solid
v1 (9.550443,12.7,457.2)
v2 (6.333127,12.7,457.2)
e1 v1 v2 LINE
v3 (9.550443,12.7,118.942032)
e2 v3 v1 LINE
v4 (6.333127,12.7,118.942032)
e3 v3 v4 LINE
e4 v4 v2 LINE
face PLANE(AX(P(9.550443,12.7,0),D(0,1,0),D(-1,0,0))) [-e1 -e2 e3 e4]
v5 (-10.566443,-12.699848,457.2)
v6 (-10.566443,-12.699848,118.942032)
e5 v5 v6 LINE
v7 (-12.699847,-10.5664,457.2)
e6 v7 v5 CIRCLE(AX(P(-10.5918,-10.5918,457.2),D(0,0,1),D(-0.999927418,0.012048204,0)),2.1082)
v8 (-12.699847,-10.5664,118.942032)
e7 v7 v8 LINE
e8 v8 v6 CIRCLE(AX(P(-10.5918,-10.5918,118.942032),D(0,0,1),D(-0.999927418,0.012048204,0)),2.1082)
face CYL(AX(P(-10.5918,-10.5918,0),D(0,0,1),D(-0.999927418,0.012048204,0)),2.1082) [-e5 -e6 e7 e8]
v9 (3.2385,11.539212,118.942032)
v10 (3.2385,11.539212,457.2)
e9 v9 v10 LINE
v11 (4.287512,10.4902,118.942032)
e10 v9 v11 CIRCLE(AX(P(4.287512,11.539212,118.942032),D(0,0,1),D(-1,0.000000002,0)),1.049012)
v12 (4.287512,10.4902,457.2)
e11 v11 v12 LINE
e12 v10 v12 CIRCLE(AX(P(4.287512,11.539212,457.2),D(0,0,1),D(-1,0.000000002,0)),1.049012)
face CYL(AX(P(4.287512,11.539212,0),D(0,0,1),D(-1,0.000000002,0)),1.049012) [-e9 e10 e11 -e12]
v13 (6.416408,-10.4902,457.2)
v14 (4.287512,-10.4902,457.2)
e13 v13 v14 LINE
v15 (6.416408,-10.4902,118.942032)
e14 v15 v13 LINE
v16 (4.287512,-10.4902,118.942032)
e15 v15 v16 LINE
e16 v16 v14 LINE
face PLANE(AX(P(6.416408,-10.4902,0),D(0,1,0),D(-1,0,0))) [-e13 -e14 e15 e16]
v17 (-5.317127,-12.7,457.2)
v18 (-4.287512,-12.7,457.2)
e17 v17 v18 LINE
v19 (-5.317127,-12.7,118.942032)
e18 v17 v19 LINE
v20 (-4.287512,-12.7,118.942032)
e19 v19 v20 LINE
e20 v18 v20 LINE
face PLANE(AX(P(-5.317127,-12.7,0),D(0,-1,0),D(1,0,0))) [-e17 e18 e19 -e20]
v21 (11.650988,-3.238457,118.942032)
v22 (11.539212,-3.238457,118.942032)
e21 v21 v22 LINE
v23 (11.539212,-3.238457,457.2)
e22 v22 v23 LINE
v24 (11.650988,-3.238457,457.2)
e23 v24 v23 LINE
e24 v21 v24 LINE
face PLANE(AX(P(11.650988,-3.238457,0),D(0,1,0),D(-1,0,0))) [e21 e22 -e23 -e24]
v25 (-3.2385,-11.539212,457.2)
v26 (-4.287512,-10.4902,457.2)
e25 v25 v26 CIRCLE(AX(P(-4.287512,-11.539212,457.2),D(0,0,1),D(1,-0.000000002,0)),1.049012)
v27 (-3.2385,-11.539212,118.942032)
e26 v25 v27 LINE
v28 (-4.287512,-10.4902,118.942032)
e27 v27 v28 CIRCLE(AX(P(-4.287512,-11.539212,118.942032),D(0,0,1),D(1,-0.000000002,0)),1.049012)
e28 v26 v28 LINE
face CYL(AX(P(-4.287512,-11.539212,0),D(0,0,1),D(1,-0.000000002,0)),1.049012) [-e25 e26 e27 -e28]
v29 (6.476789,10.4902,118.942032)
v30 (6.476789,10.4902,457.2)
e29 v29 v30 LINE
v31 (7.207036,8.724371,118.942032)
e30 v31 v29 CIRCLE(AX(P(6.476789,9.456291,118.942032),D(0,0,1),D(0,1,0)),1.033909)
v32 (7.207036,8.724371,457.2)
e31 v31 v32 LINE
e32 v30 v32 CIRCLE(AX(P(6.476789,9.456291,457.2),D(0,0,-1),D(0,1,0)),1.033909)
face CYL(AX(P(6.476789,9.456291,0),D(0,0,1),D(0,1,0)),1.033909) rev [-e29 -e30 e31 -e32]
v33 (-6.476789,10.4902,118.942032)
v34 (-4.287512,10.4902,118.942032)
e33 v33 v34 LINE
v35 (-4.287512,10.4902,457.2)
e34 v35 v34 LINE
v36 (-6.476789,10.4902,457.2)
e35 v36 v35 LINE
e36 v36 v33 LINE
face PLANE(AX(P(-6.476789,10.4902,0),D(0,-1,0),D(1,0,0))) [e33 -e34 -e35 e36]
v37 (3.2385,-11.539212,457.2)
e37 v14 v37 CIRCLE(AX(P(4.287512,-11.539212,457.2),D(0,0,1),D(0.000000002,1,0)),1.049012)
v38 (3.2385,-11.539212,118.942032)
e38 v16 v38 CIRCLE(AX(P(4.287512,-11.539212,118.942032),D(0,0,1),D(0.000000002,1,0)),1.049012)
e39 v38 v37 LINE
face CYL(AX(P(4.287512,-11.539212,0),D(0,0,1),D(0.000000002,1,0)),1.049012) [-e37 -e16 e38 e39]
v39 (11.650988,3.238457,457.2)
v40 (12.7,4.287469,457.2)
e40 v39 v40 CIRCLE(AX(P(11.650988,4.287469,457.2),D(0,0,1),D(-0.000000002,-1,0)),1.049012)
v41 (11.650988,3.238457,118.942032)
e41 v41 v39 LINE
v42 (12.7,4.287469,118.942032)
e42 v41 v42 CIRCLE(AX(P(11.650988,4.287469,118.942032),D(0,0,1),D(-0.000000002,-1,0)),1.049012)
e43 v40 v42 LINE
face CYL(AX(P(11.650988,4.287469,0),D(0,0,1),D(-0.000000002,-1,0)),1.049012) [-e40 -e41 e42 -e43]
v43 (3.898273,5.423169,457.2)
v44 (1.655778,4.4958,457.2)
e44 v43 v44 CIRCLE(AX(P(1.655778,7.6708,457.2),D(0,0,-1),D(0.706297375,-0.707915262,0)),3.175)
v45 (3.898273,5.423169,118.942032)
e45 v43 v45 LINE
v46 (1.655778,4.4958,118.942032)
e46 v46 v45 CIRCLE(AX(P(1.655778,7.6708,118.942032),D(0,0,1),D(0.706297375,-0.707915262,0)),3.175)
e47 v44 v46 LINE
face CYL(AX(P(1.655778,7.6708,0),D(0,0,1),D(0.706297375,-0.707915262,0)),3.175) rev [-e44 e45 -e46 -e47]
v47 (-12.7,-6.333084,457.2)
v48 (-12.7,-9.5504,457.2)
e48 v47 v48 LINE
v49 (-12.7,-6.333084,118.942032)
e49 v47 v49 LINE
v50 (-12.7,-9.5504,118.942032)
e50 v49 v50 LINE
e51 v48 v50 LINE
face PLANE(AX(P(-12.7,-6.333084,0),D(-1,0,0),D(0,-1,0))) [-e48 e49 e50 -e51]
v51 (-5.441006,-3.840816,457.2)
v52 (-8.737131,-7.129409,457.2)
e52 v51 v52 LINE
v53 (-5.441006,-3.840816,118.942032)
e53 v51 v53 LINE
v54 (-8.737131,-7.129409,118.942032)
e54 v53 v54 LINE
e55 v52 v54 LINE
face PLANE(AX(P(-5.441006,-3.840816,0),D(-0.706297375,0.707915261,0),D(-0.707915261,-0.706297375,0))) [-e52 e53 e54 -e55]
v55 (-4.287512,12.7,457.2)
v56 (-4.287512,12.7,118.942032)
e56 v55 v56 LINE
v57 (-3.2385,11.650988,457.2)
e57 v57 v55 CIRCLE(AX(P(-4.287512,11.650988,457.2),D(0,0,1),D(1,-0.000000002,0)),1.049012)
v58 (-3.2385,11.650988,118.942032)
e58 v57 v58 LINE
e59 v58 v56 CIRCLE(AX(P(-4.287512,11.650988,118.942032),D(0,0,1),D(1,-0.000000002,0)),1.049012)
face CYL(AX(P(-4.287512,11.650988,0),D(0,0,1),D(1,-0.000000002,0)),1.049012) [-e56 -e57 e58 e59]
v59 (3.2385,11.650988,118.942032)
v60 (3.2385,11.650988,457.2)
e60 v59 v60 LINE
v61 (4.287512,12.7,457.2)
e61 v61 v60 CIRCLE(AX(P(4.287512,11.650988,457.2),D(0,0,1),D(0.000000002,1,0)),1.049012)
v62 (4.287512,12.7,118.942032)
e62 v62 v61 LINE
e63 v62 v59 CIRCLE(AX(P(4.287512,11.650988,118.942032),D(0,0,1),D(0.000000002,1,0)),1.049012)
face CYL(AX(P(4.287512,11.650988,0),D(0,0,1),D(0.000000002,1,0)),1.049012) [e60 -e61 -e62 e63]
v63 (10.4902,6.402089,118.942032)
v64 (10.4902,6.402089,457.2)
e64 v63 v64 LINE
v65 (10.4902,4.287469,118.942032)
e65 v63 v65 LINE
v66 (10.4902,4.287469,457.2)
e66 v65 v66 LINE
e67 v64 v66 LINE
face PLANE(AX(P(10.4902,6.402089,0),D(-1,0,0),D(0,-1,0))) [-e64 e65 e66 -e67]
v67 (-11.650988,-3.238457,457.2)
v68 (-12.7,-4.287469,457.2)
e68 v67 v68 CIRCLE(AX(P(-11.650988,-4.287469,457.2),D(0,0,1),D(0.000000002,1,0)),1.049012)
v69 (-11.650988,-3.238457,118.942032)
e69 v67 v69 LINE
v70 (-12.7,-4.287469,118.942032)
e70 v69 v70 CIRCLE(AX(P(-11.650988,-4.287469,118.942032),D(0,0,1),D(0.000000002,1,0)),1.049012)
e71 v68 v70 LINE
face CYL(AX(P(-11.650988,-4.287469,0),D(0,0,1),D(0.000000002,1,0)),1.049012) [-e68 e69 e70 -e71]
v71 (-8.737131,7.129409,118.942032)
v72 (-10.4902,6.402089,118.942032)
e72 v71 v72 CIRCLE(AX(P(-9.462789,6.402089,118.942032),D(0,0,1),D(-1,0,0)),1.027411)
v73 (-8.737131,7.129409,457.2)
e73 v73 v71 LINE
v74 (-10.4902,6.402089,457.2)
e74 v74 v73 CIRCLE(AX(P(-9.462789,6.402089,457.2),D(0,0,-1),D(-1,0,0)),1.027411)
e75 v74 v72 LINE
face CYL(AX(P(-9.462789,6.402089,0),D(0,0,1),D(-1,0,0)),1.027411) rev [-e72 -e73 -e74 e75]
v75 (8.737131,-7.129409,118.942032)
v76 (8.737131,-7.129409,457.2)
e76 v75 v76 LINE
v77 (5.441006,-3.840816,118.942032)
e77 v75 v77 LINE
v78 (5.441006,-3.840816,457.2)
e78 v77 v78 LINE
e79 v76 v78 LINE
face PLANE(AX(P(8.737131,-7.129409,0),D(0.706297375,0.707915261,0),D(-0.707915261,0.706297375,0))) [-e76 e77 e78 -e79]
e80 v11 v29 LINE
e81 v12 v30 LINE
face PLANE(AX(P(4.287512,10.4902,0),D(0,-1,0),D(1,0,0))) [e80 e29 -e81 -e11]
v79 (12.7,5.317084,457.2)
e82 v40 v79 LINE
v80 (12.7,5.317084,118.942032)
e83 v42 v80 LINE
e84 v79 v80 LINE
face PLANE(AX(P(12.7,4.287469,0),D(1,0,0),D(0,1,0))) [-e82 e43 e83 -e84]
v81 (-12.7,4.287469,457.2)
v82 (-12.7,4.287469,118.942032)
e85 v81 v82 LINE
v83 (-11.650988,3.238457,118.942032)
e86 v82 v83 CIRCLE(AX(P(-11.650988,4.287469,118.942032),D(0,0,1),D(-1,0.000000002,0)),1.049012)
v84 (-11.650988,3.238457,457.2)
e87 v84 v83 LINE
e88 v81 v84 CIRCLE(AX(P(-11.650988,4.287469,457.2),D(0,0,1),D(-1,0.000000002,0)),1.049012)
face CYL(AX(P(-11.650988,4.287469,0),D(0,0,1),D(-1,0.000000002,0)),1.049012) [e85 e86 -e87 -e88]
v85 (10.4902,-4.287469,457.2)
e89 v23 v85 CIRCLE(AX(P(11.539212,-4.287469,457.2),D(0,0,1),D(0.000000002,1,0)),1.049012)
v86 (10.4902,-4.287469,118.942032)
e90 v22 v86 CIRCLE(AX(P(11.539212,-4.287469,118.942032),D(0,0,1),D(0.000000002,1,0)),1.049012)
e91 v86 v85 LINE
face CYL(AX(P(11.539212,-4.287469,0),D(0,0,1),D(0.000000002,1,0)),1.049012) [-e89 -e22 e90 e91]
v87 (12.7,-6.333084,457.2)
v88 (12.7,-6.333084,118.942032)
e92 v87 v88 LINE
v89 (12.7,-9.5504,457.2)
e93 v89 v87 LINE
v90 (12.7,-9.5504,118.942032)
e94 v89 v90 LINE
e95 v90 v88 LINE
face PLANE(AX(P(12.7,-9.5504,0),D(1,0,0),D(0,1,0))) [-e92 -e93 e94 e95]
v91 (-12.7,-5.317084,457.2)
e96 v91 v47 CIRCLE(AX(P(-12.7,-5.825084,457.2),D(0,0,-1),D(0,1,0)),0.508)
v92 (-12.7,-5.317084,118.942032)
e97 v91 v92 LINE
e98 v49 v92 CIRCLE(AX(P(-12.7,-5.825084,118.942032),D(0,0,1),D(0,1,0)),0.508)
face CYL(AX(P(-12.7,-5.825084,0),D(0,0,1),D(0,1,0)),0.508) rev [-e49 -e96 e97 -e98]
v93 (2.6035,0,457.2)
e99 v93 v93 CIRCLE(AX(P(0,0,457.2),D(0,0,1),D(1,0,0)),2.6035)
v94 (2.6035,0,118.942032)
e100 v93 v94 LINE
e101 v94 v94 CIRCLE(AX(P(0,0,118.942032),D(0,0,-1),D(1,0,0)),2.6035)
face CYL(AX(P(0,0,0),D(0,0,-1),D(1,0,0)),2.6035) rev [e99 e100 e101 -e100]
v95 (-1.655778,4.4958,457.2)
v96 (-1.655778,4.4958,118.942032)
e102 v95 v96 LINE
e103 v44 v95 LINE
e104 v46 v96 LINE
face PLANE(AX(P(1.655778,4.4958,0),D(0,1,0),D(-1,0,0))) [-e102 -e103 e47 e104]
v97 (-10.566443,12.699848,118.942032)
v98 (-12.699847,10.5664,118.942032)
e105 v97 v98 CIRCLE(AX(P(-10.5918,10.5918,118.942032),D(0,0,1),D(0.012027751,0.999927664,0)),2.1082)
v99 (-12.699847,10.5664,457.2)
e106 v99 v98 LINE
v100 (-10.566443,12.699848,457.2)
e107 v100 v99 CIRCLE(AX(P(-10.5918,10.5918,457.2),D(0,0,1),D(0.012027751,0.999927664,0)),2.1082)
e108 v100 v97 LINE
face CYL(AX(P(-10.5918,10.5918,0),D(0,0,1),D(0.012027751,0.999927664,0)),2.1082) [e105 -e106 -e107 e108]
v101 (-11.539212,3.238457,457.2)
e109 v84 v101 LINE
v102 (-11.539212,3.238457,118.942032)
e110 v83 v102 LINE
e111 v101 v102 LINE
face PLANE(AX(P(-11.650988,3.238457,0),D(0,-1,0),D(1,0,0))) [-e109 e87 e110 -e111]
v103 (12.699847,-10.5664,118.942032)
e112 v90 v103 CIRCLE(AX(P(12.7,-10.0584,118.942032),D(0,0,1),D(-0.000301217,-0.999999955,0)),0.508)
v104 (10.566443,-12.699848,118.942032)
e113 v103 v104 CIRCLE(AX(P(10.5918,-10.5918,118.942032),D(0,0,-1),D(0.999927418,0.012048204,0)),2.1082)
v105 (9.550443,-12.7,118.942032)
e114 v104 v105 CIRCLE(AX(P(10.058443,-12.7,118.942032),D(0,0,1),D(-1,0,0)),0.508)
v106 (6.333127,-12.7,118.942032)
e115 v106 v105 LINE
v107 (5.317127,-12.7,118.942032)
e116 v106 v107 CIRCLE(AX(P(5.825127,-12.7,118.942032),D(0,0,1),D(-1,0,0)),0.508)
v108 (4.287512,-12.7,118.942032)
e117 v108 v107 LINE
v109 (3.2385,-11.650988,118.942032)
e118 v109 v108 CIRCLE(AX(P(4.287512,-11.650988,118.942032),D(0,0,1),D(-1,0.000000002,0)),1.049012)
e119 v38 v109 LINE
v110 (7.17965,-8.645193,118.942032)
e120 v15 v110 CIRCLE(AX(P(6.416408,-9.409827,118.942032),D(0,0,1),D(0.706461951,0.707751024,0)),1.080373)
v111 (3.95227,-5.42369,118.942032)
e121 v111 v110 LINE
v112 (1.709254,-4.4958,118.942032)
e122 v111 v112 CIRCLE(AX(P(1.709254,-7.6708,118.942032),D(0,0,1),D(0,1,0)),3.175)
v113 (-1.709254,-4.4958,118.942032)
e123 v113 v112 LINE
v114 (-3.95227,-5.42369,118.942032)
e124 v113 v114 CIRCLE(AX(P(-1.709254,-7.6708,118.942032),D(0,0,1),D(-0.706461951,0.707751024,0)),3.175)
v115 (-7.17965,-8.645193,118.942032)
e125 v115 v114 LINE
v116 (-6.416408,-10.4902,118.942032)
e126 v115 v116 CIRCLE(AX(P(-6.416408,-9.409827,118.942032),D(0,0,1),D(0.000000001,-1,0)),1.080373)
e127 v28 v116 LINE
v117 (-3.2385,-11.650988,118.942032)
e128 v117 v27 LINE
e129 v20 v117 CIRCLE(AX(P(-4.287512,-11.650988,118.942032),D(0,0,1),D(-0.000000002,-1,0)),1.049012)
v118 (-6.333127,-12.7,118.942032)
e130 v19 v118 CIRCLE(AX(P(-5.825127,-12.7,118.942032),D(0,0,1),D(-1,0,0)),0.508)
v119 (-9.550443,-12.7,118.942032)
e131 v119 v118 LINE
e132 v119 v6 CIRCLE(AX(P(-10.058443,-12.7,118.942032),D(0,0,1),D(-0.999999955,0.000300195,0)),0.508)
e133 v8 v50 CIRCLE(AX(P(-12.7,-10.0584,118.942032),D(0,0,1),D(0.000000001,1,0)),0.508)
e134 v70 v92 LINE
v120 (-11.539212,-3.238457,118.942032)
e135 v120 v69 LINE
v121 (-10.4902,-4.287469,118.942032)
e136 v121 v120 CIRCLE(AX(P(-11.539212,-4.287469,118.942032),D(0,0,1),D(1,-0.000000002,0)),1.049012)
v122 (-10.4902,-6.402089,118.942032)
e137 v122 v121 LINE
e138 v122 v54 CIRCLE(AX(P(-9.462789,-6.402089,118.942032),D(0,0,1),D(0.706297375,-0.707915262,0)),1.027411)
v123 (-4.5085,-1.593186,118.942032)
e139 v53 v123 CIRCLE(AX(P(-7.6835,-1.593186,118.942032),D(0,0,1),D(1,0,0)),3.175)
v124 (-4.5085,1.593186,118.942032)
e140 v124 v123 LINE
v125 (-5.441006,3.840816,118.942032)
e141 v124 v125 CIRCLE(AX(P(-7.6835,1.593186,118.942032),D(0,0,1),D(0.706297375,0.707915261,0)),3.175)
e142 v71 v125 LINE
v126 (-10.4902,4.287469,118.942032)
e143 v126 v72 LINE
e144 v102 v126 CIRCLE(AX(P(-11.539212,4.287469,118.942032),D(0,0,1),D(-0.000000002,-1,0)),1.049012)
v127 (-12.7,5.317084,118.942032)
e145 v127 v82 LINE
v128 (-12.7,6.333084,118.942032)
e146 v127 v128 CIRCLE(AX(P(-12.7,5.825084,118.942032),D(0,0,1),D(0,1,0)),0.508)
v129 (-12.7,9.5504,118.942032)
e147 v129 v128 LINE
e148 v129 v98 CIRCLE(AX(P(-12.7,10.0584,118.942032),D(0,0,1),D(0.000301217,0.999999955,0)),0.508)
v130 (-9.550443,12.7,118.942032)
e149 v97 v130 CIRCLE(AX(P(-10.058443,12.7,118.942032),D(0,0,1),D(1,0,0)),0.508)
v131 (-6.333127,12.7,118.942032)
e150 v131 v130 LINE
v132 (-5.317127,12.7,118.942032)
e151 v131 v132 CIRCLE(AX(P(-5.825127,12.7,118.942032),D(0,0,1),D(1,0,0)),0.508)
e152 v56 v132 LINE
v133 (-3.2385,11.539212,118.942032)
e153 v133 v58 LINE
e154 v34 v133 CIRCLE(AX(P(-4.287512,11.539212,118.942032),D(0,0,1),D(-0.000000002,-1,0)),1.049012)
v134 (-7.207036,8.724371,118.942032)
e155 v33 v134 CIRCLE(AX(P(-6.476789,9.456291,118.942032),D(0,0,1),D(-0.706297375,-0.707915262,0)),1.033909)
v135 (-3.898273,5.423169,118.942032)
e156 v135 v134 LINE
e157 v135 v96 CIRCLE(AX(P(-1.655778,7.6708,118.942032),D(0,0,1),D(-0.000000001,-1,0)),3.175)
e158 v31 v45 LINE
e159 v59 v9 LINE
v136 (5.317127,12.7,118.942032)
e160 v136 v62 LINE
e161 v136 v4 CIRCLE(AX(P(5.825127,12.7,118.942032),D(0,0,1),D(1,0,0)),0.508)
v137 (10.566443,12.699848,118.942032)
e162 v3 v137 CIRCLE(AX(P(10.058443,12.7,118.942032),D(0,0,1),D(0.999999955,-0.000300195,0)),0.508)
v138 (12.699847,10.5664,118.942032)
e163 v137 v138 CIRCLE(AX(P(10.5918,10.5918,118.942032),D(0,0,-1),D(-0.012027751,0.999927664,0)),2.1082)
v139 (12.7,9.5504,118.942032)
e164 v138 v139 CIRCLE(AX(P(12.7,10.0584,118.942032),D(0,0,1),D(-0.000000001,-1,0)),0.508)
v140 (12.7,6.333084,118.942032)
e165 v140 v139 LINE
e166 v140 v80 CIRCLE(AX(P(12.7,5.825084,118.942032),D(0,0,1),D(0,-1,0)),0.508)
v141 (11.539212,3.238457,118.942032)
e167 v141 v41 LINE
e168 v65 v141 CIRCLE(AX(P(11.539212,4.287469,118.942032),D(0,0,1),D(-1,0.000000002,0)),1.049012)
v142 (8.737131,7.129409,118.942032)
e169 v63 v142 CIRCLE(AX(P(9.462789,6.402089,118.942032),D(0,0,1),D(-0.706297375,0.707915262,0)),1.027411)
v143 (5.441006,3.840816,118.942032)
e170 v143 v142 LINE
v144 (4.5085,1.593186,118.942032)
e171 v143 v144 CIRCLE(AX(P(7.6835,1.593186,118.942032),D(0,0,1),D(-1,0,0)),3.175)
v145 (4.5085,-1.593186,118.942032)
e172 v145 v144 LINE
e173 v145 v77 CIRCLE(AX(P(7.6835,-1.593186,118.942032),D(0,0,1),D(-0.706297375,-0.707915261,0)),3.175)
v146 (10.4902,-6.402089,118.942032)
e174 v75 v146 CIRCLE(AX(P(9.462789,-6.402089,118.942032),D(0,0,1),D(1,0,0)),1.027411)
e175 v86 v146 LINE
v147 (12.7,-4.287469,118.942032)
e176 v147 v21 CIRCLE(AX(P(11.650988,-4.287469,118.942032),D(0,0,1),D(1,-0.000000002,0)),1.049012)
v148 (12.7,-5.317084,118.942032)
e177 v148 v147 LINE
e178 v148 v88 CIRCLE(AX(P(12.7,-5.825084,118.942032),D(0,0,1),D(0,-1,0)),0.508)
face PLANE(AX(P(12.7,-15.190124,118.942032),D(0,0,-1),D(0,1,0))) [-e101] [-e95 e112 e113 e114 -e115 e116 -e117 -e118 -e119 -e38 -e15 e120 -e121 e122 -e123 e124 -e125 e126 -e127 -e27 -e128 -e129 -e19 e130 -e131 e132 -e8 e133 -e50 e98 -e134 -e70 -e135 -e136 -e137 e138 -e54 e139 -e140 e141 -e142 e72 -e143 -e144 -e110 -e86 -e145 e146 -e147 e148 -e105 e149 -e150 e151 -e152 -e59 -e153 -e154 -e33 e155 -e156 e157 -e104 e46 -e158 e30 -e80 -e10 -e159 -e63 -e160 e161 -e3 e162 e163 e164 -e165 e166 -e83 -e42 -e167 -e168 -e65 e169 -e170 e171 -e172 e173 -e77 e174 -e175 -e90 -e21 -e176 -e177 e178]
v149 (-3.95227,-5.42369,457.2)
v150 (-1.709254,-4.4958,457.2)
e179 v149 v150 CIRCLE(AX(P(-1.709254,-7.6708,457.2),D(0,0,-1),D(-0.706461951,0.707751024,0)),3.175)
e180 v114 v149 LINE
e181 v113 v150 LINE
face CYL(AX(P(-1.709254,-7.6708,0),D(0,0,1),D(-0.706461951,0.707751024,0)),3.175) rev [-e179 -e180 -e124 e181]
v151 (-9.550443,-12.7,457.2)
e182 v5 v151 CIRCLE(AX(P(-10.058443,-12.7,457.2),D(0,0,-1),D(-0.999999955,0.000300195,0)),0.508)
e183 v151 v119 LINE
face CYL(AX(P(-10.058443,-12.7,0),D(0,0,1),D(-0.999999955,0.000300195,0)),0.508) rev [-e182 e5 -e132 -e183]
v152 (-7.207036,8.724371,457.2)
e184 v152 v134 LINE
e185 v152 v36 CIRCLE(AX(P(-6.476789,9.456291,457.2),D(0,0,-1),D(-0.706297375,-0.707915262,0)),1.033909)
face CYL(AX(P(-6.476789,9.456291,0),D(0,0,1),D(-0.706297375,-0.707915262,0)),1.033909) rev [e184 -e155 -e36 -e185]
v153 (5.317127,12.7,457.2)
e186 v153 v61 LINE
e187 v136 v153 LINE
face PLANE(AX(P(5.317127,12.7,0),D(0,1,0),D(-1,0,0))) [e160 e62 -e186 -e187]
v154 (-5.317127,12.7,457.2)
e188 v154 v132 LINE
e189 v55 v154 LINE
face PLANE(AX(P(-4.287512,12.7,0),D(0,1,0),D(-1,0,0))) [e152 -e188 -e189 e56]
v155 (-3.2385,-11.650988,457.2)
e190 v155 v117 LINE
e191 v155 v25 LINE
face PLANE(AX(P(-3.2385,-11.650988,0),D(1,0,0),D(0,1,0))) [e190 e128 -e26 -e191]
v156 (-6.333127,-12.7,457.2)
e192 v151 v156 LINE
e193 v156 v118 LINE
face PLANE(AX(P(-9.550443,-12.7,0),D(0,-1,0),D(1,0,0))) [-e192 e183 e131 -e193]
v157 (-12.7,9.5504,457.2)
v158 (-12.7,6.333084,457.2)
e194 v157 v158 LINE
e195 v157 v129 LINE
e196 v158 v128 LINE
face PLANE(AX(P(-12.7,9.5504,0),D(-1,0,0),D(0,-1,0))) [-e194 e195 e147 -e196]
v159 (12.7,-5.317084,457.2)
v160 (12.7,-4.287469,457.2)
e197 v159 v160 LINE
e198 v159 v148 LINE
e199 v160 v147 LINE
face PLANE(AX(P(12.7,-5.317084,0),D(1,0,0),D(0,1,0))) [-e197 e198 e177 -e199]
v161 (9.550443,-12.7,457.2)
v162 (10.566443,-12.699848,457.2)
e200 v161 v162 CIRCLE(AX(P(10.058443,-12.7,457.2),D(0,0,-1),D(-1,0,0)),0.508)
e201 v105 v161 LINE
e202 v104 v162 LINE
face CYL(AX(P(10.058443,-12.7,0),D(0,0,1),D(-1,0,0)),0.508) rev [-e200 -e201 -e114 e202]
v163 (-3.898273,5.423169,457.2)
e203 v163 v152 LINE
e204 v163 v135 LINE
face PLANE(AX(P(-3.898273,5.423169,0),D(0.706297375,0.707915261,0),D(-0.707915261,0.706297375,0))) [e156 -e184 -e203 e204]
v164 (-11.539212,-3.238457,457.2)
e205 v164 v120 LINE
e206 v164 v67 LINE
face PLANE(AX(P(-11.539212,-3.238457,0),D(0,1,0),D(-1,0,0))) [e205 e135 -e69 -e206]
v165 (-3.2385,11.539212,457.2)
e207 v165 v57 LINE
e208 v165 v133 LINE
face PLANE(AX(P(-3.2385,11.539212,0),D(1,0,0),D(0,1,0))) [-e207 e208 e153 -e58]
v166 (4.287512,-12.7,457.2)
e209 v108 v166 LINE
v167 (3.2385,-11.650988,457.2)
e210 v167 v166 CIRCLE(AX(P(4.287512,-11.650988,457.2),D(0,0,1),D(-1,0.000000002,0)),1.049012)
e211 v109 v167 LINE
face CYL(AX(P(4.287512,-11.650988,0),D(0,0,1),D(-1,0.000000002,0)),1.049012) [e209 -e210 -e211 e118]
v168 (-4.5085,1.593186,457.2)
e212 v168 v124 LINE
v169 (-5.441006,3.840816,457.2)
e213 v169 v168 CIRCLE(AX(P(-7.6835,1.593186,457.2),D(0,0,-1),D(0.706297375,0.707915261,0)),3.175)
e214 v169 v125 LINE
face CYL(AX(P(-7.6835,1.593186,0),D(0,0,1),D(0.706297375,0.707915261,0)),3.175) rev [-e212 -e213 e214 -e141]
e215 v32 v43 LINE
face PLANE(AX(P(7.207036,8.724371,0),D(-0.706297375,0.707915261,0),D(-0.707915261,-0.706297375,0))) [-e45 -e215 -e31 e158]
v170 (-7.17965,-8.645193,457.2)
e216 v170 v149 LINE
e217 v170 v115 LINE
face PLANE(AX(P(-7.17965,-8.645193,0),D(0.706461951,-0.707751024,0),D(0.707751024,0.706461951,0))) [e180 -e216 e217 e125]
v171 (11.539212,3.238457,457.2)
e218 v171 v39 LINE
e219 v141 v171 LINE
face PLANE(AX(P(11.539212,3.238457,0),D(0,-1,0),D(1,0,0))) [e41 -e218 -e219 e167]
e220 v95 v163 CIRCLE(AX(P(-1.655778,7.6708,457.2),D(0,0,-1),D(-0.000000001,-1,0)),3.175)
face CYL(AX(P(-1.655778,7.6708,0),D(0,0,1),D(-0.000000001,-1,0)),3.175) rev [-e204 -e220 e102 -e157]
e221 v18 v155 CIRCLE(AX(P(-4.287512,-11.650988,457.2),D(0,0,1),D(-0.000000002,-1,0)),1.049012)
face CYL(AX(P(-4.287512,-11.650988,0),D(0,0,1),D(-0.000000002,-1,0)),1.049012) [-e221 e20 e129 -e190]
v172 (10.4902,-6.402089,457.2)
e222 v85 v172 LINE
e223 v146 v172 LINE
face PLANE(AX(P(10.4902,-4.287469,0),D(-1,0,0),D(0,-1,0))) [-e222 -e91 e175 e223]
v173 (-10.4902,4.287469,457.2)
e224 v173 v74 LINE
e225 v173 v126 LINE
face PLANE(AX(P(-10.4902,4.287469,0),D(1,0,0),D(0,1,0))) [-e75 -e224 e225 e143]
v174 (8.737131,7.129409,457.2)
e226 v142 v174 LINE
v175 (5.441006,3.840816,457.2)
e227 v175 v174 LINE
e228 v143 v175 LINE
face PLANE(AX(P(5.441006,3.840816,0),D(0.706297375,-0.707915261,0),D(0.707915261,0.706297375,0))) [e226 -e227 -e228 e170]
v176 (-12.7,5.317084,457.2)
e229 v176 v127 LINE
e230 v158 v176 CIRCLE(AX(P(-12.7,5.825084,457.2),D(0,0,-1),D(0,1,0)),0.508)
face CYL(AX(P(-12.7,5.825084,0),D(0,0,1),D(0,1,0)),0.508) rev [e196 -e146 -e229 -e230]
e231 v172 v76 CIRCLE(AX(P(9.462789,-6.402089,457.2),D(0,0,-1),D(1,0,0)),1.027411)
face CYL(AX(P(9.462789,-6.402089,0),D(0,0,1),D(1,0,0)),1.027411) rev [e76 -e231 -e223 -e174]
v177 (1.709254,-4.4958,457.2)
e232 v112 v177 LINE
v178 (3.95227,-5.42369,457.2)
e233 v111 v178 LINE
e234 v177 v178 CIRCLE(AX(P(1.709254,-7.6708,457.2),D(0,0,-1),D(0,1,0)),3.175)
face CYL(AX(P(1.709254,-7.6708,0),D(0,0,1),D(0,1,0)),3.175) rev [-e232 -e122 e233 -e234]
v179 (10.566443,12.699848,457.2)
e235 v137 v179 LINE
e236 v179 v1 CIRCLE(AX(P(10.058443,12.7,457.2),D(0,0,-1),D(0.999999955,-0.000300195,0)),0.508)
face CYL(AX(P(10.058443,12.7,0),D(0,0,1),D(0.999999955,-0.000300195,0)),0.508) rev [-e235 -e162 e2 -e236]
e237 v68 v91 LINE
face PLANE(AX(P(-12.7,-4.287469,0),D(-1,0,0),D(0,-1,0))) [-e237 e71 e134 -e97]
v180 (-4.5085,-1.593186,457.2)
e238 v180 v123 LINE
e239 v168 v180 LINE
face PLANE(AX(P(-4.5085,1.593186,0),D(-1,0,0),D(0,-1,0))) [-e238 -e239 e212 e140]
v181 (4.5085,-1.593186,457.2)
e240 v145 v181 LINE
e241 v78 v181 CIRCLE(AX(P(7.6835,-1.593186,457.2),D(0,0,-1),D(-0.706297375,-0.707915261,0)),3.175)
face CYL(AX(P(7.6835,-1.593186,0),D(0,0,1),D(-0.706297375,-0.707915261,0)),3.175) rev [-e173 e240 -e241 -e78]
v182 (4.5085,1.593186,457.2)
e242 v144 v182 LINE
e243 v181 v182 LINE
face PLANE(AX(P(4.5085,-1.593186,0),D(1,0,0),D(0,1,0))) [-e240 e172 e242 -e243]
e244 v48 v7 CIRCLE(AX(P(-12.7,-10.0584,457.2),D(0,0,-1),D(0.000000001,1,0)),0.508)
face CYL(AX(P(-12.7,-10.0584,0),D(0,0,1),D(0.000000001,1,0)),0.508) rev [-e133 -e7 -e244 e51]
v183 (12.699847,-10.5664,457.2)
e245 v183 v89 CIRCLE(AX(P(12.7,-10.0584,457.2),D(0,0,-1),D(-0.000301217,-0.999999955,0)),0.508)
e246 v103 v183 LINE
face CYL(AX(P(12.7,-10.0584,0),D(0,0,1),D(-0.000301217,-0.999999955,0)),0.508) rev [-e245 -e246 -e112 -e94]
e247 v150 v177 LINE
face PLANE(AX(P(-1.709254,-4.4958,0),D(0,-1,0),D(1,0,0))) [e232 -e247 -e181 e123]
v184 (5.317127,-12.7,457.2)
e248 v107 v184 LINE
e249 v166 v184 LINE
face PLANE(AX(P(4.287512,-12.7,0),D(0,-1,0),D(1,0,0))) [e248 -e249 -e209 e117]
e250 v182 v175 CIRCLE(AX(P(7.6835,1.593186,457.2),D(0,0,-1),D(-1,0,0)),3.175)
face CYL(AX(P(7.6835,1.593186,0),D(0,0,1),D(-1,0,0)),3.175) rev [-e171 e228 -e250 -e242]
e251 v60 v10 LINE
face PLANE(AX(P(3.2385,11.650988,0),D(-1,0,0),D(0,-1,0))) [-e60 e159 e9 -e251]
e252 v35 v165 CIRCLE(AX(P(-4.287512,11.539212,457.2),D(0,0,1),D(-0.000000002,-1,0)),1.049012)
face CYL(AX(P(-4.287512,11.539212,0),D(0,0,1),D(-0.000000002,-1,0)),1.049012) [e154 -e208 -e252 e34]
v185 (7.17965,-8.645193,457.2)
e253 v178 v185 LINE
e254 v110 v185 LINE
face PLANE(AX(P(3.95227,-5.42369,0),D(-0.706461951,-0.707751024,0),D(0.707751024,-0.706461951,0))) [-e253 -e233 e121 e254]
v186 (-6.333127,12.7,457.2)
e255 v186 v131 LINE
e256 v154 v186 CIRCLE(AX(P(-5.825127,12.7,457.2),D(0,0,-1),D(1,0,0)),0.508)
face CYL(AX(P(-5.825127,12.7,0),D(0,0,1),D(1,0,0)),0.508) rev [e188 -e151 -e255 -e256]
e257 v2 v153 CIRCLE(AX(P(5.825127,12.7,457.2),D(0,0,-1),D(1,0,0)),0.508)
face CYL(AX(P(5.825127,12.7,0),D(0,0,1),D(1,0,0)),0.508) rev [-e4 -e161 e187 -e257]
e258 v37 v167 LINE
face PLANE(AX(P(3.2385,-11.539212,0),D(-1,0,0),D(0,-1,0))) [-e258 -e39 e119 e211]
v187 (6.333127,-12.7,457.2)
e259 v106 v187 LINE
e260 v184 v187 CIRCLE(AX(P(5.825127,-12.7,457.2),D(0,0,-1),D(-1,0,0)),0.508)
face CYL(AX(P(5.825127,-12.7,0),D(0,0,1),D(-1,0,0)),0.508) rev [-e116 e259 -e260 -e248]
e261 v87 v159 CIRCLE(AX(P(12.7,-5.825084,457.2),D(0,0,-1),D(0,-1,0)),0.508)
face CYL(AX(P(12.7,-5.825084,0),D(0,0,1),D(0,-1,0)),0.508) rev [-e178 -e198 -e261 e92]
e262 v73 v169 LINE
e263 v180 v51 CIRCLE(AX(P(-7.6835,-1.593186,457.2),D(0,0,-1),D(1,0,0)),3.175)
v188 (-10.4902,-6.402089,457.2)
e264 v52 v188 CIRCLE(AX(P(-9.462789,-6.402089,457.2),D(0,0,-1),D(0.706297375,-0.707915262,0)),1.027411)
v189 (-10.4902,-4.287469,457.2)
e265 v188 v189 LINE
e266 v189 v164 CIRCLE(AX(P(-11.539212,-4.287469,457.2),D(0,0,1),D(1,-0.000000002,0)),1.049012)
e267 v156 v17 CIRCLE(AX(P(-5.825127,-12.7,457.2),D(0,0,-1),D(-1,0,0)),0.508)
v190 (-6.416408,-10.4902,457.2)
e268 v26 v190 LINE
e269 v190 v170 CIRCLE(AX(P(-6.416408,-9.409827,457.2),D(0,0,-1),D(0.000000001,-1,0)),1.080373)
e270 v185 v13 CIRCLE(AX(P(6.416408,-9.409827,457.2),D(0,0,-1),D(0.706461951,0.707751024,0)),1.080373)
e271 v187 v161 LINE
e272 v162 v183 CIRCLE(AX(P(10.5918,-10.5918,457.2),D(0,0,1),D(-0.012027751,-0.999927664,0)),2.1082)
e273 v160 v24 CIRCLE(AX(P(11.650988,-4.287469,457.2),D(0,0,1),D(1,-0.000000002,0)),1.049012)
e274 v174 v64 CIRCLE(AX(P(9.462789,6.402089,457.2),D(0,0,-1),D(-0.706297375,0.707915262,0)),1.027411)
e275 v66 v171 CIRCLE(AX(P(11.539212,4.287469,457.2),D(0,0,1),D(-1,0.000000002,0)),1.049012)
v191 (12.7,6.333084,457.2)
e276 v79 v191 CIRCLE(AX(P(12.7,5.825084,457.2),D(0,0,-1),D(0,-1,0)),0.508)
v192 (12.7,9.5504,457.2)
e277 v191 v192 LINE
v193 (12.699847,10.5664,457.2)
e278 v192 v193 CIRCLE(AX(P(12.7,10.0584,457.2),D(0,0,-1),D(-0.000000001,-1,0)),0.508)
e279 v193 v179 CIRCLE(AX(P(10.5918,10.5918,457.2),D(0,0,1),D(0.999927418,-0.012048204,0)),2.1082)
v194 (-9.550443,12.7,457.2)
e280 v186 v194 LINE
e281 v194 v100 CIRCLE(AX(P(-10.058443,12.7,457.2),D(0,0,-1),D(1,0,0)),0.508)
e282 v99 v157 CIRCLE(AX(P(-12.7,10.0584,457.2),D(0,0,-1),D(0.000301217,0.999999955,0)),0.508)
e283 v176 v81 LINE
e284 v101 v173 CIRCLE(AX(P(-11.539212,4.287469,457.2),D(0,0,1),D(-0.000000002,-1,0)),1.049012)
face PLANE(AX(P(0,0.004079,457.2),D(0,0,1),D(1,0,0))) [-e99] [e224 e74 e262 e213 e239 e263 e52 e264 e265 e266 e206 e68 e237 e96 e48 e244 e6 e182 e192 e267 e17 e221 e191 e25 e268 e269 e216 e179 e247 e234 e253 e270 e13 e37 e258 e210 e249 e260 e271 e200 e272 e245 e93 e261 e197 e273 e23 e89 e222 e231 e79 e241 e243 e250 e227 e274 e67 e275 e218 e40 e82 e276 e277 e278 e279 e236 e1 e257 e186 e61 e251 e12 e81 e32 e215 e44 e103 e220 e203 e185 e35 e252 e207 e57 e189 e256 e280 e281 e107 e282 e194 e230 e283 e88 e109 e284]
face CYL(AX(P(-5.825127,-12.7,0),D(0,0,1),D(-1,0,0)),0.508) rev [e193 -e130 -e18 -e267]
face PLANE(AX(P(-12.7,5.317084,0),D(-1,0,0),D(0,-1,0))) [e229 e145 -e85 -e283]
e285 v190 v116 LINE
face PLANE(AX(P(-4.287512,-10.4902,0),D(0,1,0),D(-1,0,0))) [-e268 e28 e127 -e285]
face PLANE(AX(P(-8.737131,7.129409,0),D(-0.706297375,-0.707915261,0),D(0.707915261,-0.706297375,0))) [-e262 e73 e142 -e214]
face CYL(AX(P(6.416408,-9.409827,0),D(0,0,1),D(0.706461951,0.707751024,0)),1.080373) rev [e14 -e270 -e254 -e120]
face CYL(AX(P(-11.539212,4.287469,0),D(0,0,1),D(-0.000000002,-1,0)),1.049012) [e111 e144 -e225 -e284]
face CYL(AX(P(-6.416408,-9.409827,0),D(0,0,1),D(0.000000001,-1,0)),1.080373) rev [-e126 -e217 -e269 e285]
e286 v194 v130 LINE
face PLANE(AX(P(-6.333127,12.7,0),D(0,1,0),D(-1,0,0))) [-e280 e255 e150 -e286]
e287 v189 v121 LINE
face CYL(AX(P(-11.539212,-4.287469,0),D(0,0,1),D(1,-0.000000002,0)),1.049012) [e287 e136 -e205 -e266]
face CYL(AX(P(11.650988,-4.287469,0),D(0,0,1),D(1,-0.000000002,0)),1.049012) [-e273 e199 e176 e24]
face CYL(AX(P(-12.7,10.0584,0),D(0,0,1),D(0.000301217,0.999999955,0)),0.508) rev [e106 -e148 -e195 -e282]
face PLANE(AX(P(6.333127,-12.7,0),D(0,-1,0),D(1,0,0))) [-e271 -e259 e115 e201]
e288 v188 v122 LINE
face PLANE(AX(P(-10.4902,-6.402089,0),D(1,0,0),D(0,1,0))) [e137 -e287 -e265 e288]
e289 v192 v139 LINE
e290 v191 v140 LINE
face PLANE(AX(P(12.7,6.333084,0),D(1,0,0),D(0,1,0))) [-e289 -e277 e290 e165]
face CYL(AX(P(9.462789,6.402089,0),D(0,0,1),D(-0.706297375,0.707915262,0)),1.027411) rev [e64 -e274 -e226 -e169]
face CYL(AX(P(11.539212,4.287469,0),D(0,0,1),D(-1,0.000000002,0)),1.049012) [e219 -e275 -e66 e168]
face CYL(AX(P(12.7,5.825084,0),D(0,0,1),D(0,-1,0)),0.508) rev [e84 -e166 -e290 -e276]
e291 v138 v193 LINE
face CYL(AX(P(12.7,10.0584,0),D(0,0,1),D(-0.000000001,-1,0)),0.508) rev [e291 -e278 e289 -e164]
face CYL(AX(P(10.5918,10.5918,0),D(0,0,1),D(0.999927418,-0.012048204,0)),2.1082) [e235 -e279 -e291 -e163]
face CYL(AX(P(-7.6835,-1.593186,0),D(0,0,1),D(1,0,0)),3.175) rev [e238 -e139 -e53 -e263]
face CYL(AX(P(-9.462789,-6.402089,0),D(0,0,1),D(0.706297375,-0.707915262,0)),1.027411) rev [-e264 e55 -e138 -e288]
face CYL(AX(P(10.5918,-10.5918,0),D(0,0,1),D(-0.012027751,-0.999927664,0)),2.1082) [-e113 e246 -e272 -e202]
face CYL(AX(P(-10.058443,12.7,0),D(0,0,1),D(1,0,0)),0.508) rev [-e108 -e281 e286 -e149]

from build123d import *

# Parameters (mm, degrees)
SKETCH1_R               = 2.6035
BOSS_EXTRUDE1_DEPTH     = 457.2
CUT_EXTRUDE2_DEPTH      = 4.318
CUT_EXTRUDE2_DEPTH_BACK = 26.924
SKETCH4_W               = 324.910304918
SKETCH4_H               = 30.197320423
CUT_EXTRUDE3_DEPTH      = 1
CUT_EXTRUDE3_DEPTH_BACK = 26.4


with BuildPart() as part:
    # Sketch1 → Boss-Extrude1 (new body, symmetric)
    with BuildSketch(Plane.XY):
        with BuildLine():
            Line((-7.179650497, -8.645192506), (-3.952270251, -5.423690499))
            ThreePointArc((-3.952270251, -5.423690499), (-2.922936451, -4.736929036), (-1.709253557, -4.4958))
            Line((-1.709253557, -4.4958), (1.709253557, -4.4958))
            ThreePointArc((1.709253557, -4.4958), (2.922936451, -4.736929036), (3.952270251, -5.423690499))
            Line((3.952270251, -5.423690499), (7.179650497, -8.645192506))
            ThreePointArc((7.179650497, -8.645192506), (7.41473083, -9.822813117), (6.416408329, -10.4902))
            Line((6.416408329, -10.4902), (4.287512407, -10.4902))
            ThreePointArc((4.287512407, -10.4902), (3.54574862, -10.79744862), (3.2385, -11.539212407))
            Line((3.2385, -11.539212407), (3.2385, -11.650987593))
            ThreePointArc((3.2385, -11.650987593), (3.54574862, -12.39275138), (4.287512407, -12.7))
            Line((4.287512407, -12.7), (5.317126718, -12.7))
            ThreePointArc((5.317126718, -12.7), (5.825126718, -12.192), (6.333126718, -12.7))
            Line((6.333126718, -12.7), (9.550443118, -12.7))
            ThreePointArc((9.550443118, -12.7), (10.058366869, -12.192000006), (10.566443095, -12.699847501))
            ThreePointArc((10.566443095, -12.699847501), (12.082537762, -12.08250727), (12.699846982, -10.566399977))
            ThreePointArc((12.699846982, -10.566399977), (12.192000006, -10.058323491), (12.7, -9.5504))
            Line((12.7, -9.5504), (12.7, -6.3330836))
            ThreePointArc((12.7, -6.3330836), (12.192, -5.8250836), (12.7, -5.3170836))
            Line((12.7, -5.3170836), (12.7, -4.287469289))
            ThreePointArc((12.7, -4.287469289), (12.39275138, -3.545705502), (11.650987593, -3.238456882))
            Line((11.650987593, -3.238456882), (11.539212407, -3.238456882))
            ThreePointArc((11.539212407, -3.238456882), (10.79744862, -3.545705502), (10.4902, -4.287469289))
            Line((10.4902, -4.287469289), (10.4902, -6.402089023))
            ThreePointArc((10.4902, -6.402089023), (9.856505071, -7.351067942), (8.737131347, -7.129408934))
            Line((8.737131347, -7.129408934), (5.441005833, -3.840816462))
            ThreePointArc((5.441005833, -3.840816462), (4.750877967, -2.809883091), (4.5085, -1.593185507))
            Line((4.5085, -1.593185507), (4.5085, 1.593185507))
            ThreePointArc((4.5085, 1.593185507), (4.750877967, 2.809883091), (5.441005833, 3.840816462))
            Line((5.441005833, 3.840816462), (8.737131347, 7.129408934))
            ThreePointArc((8.737131347, 7.129408934), (9.856505071, 7.351067942), (10.4902, 6.402089023))
            Line((10.4902, 6.402089023), (10.4902, 4.287469289))
            ThreePointArc((10.4902, 4.287469289), (10.79744862, 3.545705502), (11.539212407, 3.238456882))
            Line((11.539212407, 3.238456882), (11.650987593, 3.238456882))
            ThreePointArc((11.650987593, 3.238456882), (12.39275138, 3.545705502), (12.7, 4.287469289))
            Line((12.7, 4.287469289), (12.7, 5.3170836))
            ThreePointArc((12.7, 5.3170836), (12.192, 5.8250836), (12.7, 6.3330836))
            Line((12.7, 6.3330836), (12.7, 9.5504))
            ThreePointArc((12.7, 9.5504), (12.192000006, 10.058323491), (12.699846982, 10.566399977))
            ThreePointArc((12.699846982, 10.566399977), (12.082537762, 12.08250727), (10.566443095, 12.699847501))
            ThreePointArc((10.566443095, 12.699847501), (10.058366869, 12.192000006), (9.550443118, 12.7))
            Line((9.550443118, 12.7), (6.333126718, 12.7))
            ThreePointArc((6.333126718, 12.7), (5.825126718, 12.192), (5.317126718, 12.7))
            Line((5.317126718, 12.7), (4.287512407, 12.7))
            ThreePointArc((4.287512407, 12.7), (3.54574862, 12.39275138), (3.2385, 11.650987593))
            Line((3.2385, 11.650987593), (3.2385, 11.539212407))
            ThreePointArc((3.2385, 11.539212407), (3.54574862, 10.79744862), (4.287512407, 10.4902))
            Line((4.287512407, 10.4902), (6.476788598, 10.4902))
            ThreePointArc((6.476788598, 10.4902), (7.432222385, 9.85140422), (7.207036008, 8.724370562))
            Line((7.207036008, 8.724370562), (3.898272566, 5.423169045))
            ThreePointArc((3.898272566, 5.423169045), (2.869120213, 4.736787962), (1.655778399, 4.4958))
            Line((1.655778399, 4.4958), (-1.655778399, 4.4958))
            ThreePointArc((-1.655778399, 4.4958), (-2.869120213, 4.736787962), (-3.898272566, 5.423169045))
            Line((-3.898272566, 5.423169045), (-7.207036008, 8.724370562))
            ThreePointArc((-7.207036008, 8.724370562), (-7.432222385, 9.85140422), (-6.476788598, 10.4902))
            Line((-6.476788598, 10.4902), (-4.287512407, 10.4902))
            ThreePointArc((-4.287512407, 10.4902), (-3.54574862, 10.79744862), (-3.2385, 11.539212407))
            Line((-3.2385, 11.539212407), (-3.2385, 11.650987593))
            ThreePointArc((-3.2385, 11.650987593), (-3.54574862, 12.39275138), (-4.287512407, 12.7))
            Line((-4.287512407, 12.7), (-5.317126718, 12.7))
            ThreePointArc((-5.317126718, 12.7), (-5.825126718, 12.192), (-6.333126718, 12.7))
            Line((-6.333126718, 12.7), (-9.550443118, 12.7))
            ThreePointArc((-9.550443118, 12.7), (-10.058366869, 12.192000006), (-10.566443095, 12.699847501))
            ThreePointArc((-10.566443095, 12.699847501), (-12.082537762, 12.08250727), (-12.699846982, 10.566399977))
            ThreePointArc((-12.699846982, 10.566399977), (-12.192000006, 10.058323491), (-12.7, 9.5504))
            Line((-12.7, 9.5504), (-12.7, 6.3330836))
            ThreePointArc((-12.7, 6.3330836), (-12.192, 5.8250836), (-12.7, 5.3170836))
            Line((-12.7, 5.3170836), (-12.7, 4.287469289))
            ThreePointArc((-12.7, 4.287469289), (-12.39275138, 3.545705502), (-11.650987593, 3.238456882))
            Line((-11.650987593, 3.238456882), (-11.539212407, 3.238456882))
            ThreePointArc((-11.539212407, 3.238456882), (-10.79744862, 3.545705502), (-10.4902, 4.287469289))
            Line((-10.4902, 4.287469289), (-10.4902, 6.402089023))
            ThreePointArc((-10.4902, 6.402089023), (-9.856505071, 7.351067942), (-8.737131347, 7.129408934))
            Line((-8.737131347, 7.129408934), (-5.441005833, 3.840816462))
            ThreePointArc((-5.441005833, 3.840816462), (-4.750877967, 2.809883091), (-4.5085, 1.593185507))
            Line((-4.5085, 1.593185507), (-4.5085, -1.593185507))
            ThreePointArc((-4.5085, -1.593185507), (-4.750877967, -2.809883091), (-5.441005833, -3.840816462))
            Line((-5.441005833, -3.840816462), (-8.737131347, -7.129408934))
            ThreePointArc((-8.737131347, -7.129408934), (-9.856505071, -7.351067942), (-10.4902, -6.402089023))
            Line((-10.4902, -6.402089023), (-10.4902, -4.287469289))
            ThreePointArc((-10.4902, -4.287469289), (-10.79744862, -3.545705502), (-11.539212407, -3.238456882))
            Line((-11.539212407, -3.238456882), (-11.650987593, -3.238456882))
            ThreePointArc((-11.650987593, -3.238456882), (-12.39275138, -3.545705502), (-12.7, -4.287469289))
            Line((-12.7, -4.287469289), (-12.7, -5.3170836))
            ThreePointArc((-12.7, -5.3170836), (-12.192, -5.8250836), (-12.7, -6.3330836))
            Line((-12.7, -6.3330836), (-12.7, -9.5504))
            ThreePointArc((-12.7, -9.5504), (-12.192000006, -10.058323491), (-12.699846982, -10.566399977))
            ThreePointArc((-12.699846982, -10.566399977), (-12.082537762, -12.08250727), (-10.566443095, -12.699847501))
            ThreePointArc((-10.566443095, -12.699847501), (-10.058366869, -12.192000006), (-9.550443118, -12.7))
            Line((-9.550443118, -12.7), (-6.333126718, -12.7))
            ThreePointArc((-6.333126718, -12.7), (-5.825126718, -12.192), (-5.317126718, -12.7))
            Line((-5.317126718, -12.7), (-4.287512407, -12.7))
            ThreePointArc((-4.287512407, -12.7), (-3.54574862, -12.39275138), (-3.2385, -11.650987593))
            Line((-3.2385, -11.650987593), (-3.2385, -11.539212407))
            ThreePointArc((-3.2385, -11.539212407), (-3.54574862, -10.79744862), (-4.287512407, -10.4902))
            Line((-4.287512407, -10.4902), (-6.416408329, -10.4902))
            ThreePointArc((-6.416408329, -10.4902), (-7.41473083, -9.822813117), (-7.179650497, -8.645192506))
        make_face()
        Circle(SKETCH1_R, mode=Mode.SUBTRACT)
    extrude(amount=BOSS_EXTRUDE1_DEPTH, both=True)

    # Sketch3 → Cut-Extrude2 (cut, two sides)
    with BuildSketch(Plane.ZY.offset(12.7)) as cut_extrude2_sk:
        Polygon((-203.2, -27.552777595), (-203.2, 21.158109763), (-461.090893327, 21.158109763), (-461.090893327, -25.4), align=None)
    extrude(amount=CUT_EXTRUDE2_DEPTH, mode=Mode.SUBTRACT)
    extrude(cut_extrude2_sk.sketch, amount=-CUT_EXTRUDE2_DEPTH_BACK, mode=Mode.SUBTRACT)

    # Sketch4 → Cut-Extrude3 (cut, two sides)
    with BuildSketch(Plane(origin=(12.7, 0, 0), x_dir=(0, 0, -1), z_dir=(1, 0, 0))) as cut_extrude3_sk:
        with Locations((43.51312076, -0.091464018)):
            Rectangle(SKETCH4_W, SKETCH4_H)
    extrude(amount=CUT_EXTRUDE3_DEPTH, mode=Mode.SUBTRACT)
    extrude(cut_extrude3_sk.sketch, amount=-CUT_EXTRUDE3_DEPTH_BACK, mode=Mode.SUBTRACT)


solid = part.part
